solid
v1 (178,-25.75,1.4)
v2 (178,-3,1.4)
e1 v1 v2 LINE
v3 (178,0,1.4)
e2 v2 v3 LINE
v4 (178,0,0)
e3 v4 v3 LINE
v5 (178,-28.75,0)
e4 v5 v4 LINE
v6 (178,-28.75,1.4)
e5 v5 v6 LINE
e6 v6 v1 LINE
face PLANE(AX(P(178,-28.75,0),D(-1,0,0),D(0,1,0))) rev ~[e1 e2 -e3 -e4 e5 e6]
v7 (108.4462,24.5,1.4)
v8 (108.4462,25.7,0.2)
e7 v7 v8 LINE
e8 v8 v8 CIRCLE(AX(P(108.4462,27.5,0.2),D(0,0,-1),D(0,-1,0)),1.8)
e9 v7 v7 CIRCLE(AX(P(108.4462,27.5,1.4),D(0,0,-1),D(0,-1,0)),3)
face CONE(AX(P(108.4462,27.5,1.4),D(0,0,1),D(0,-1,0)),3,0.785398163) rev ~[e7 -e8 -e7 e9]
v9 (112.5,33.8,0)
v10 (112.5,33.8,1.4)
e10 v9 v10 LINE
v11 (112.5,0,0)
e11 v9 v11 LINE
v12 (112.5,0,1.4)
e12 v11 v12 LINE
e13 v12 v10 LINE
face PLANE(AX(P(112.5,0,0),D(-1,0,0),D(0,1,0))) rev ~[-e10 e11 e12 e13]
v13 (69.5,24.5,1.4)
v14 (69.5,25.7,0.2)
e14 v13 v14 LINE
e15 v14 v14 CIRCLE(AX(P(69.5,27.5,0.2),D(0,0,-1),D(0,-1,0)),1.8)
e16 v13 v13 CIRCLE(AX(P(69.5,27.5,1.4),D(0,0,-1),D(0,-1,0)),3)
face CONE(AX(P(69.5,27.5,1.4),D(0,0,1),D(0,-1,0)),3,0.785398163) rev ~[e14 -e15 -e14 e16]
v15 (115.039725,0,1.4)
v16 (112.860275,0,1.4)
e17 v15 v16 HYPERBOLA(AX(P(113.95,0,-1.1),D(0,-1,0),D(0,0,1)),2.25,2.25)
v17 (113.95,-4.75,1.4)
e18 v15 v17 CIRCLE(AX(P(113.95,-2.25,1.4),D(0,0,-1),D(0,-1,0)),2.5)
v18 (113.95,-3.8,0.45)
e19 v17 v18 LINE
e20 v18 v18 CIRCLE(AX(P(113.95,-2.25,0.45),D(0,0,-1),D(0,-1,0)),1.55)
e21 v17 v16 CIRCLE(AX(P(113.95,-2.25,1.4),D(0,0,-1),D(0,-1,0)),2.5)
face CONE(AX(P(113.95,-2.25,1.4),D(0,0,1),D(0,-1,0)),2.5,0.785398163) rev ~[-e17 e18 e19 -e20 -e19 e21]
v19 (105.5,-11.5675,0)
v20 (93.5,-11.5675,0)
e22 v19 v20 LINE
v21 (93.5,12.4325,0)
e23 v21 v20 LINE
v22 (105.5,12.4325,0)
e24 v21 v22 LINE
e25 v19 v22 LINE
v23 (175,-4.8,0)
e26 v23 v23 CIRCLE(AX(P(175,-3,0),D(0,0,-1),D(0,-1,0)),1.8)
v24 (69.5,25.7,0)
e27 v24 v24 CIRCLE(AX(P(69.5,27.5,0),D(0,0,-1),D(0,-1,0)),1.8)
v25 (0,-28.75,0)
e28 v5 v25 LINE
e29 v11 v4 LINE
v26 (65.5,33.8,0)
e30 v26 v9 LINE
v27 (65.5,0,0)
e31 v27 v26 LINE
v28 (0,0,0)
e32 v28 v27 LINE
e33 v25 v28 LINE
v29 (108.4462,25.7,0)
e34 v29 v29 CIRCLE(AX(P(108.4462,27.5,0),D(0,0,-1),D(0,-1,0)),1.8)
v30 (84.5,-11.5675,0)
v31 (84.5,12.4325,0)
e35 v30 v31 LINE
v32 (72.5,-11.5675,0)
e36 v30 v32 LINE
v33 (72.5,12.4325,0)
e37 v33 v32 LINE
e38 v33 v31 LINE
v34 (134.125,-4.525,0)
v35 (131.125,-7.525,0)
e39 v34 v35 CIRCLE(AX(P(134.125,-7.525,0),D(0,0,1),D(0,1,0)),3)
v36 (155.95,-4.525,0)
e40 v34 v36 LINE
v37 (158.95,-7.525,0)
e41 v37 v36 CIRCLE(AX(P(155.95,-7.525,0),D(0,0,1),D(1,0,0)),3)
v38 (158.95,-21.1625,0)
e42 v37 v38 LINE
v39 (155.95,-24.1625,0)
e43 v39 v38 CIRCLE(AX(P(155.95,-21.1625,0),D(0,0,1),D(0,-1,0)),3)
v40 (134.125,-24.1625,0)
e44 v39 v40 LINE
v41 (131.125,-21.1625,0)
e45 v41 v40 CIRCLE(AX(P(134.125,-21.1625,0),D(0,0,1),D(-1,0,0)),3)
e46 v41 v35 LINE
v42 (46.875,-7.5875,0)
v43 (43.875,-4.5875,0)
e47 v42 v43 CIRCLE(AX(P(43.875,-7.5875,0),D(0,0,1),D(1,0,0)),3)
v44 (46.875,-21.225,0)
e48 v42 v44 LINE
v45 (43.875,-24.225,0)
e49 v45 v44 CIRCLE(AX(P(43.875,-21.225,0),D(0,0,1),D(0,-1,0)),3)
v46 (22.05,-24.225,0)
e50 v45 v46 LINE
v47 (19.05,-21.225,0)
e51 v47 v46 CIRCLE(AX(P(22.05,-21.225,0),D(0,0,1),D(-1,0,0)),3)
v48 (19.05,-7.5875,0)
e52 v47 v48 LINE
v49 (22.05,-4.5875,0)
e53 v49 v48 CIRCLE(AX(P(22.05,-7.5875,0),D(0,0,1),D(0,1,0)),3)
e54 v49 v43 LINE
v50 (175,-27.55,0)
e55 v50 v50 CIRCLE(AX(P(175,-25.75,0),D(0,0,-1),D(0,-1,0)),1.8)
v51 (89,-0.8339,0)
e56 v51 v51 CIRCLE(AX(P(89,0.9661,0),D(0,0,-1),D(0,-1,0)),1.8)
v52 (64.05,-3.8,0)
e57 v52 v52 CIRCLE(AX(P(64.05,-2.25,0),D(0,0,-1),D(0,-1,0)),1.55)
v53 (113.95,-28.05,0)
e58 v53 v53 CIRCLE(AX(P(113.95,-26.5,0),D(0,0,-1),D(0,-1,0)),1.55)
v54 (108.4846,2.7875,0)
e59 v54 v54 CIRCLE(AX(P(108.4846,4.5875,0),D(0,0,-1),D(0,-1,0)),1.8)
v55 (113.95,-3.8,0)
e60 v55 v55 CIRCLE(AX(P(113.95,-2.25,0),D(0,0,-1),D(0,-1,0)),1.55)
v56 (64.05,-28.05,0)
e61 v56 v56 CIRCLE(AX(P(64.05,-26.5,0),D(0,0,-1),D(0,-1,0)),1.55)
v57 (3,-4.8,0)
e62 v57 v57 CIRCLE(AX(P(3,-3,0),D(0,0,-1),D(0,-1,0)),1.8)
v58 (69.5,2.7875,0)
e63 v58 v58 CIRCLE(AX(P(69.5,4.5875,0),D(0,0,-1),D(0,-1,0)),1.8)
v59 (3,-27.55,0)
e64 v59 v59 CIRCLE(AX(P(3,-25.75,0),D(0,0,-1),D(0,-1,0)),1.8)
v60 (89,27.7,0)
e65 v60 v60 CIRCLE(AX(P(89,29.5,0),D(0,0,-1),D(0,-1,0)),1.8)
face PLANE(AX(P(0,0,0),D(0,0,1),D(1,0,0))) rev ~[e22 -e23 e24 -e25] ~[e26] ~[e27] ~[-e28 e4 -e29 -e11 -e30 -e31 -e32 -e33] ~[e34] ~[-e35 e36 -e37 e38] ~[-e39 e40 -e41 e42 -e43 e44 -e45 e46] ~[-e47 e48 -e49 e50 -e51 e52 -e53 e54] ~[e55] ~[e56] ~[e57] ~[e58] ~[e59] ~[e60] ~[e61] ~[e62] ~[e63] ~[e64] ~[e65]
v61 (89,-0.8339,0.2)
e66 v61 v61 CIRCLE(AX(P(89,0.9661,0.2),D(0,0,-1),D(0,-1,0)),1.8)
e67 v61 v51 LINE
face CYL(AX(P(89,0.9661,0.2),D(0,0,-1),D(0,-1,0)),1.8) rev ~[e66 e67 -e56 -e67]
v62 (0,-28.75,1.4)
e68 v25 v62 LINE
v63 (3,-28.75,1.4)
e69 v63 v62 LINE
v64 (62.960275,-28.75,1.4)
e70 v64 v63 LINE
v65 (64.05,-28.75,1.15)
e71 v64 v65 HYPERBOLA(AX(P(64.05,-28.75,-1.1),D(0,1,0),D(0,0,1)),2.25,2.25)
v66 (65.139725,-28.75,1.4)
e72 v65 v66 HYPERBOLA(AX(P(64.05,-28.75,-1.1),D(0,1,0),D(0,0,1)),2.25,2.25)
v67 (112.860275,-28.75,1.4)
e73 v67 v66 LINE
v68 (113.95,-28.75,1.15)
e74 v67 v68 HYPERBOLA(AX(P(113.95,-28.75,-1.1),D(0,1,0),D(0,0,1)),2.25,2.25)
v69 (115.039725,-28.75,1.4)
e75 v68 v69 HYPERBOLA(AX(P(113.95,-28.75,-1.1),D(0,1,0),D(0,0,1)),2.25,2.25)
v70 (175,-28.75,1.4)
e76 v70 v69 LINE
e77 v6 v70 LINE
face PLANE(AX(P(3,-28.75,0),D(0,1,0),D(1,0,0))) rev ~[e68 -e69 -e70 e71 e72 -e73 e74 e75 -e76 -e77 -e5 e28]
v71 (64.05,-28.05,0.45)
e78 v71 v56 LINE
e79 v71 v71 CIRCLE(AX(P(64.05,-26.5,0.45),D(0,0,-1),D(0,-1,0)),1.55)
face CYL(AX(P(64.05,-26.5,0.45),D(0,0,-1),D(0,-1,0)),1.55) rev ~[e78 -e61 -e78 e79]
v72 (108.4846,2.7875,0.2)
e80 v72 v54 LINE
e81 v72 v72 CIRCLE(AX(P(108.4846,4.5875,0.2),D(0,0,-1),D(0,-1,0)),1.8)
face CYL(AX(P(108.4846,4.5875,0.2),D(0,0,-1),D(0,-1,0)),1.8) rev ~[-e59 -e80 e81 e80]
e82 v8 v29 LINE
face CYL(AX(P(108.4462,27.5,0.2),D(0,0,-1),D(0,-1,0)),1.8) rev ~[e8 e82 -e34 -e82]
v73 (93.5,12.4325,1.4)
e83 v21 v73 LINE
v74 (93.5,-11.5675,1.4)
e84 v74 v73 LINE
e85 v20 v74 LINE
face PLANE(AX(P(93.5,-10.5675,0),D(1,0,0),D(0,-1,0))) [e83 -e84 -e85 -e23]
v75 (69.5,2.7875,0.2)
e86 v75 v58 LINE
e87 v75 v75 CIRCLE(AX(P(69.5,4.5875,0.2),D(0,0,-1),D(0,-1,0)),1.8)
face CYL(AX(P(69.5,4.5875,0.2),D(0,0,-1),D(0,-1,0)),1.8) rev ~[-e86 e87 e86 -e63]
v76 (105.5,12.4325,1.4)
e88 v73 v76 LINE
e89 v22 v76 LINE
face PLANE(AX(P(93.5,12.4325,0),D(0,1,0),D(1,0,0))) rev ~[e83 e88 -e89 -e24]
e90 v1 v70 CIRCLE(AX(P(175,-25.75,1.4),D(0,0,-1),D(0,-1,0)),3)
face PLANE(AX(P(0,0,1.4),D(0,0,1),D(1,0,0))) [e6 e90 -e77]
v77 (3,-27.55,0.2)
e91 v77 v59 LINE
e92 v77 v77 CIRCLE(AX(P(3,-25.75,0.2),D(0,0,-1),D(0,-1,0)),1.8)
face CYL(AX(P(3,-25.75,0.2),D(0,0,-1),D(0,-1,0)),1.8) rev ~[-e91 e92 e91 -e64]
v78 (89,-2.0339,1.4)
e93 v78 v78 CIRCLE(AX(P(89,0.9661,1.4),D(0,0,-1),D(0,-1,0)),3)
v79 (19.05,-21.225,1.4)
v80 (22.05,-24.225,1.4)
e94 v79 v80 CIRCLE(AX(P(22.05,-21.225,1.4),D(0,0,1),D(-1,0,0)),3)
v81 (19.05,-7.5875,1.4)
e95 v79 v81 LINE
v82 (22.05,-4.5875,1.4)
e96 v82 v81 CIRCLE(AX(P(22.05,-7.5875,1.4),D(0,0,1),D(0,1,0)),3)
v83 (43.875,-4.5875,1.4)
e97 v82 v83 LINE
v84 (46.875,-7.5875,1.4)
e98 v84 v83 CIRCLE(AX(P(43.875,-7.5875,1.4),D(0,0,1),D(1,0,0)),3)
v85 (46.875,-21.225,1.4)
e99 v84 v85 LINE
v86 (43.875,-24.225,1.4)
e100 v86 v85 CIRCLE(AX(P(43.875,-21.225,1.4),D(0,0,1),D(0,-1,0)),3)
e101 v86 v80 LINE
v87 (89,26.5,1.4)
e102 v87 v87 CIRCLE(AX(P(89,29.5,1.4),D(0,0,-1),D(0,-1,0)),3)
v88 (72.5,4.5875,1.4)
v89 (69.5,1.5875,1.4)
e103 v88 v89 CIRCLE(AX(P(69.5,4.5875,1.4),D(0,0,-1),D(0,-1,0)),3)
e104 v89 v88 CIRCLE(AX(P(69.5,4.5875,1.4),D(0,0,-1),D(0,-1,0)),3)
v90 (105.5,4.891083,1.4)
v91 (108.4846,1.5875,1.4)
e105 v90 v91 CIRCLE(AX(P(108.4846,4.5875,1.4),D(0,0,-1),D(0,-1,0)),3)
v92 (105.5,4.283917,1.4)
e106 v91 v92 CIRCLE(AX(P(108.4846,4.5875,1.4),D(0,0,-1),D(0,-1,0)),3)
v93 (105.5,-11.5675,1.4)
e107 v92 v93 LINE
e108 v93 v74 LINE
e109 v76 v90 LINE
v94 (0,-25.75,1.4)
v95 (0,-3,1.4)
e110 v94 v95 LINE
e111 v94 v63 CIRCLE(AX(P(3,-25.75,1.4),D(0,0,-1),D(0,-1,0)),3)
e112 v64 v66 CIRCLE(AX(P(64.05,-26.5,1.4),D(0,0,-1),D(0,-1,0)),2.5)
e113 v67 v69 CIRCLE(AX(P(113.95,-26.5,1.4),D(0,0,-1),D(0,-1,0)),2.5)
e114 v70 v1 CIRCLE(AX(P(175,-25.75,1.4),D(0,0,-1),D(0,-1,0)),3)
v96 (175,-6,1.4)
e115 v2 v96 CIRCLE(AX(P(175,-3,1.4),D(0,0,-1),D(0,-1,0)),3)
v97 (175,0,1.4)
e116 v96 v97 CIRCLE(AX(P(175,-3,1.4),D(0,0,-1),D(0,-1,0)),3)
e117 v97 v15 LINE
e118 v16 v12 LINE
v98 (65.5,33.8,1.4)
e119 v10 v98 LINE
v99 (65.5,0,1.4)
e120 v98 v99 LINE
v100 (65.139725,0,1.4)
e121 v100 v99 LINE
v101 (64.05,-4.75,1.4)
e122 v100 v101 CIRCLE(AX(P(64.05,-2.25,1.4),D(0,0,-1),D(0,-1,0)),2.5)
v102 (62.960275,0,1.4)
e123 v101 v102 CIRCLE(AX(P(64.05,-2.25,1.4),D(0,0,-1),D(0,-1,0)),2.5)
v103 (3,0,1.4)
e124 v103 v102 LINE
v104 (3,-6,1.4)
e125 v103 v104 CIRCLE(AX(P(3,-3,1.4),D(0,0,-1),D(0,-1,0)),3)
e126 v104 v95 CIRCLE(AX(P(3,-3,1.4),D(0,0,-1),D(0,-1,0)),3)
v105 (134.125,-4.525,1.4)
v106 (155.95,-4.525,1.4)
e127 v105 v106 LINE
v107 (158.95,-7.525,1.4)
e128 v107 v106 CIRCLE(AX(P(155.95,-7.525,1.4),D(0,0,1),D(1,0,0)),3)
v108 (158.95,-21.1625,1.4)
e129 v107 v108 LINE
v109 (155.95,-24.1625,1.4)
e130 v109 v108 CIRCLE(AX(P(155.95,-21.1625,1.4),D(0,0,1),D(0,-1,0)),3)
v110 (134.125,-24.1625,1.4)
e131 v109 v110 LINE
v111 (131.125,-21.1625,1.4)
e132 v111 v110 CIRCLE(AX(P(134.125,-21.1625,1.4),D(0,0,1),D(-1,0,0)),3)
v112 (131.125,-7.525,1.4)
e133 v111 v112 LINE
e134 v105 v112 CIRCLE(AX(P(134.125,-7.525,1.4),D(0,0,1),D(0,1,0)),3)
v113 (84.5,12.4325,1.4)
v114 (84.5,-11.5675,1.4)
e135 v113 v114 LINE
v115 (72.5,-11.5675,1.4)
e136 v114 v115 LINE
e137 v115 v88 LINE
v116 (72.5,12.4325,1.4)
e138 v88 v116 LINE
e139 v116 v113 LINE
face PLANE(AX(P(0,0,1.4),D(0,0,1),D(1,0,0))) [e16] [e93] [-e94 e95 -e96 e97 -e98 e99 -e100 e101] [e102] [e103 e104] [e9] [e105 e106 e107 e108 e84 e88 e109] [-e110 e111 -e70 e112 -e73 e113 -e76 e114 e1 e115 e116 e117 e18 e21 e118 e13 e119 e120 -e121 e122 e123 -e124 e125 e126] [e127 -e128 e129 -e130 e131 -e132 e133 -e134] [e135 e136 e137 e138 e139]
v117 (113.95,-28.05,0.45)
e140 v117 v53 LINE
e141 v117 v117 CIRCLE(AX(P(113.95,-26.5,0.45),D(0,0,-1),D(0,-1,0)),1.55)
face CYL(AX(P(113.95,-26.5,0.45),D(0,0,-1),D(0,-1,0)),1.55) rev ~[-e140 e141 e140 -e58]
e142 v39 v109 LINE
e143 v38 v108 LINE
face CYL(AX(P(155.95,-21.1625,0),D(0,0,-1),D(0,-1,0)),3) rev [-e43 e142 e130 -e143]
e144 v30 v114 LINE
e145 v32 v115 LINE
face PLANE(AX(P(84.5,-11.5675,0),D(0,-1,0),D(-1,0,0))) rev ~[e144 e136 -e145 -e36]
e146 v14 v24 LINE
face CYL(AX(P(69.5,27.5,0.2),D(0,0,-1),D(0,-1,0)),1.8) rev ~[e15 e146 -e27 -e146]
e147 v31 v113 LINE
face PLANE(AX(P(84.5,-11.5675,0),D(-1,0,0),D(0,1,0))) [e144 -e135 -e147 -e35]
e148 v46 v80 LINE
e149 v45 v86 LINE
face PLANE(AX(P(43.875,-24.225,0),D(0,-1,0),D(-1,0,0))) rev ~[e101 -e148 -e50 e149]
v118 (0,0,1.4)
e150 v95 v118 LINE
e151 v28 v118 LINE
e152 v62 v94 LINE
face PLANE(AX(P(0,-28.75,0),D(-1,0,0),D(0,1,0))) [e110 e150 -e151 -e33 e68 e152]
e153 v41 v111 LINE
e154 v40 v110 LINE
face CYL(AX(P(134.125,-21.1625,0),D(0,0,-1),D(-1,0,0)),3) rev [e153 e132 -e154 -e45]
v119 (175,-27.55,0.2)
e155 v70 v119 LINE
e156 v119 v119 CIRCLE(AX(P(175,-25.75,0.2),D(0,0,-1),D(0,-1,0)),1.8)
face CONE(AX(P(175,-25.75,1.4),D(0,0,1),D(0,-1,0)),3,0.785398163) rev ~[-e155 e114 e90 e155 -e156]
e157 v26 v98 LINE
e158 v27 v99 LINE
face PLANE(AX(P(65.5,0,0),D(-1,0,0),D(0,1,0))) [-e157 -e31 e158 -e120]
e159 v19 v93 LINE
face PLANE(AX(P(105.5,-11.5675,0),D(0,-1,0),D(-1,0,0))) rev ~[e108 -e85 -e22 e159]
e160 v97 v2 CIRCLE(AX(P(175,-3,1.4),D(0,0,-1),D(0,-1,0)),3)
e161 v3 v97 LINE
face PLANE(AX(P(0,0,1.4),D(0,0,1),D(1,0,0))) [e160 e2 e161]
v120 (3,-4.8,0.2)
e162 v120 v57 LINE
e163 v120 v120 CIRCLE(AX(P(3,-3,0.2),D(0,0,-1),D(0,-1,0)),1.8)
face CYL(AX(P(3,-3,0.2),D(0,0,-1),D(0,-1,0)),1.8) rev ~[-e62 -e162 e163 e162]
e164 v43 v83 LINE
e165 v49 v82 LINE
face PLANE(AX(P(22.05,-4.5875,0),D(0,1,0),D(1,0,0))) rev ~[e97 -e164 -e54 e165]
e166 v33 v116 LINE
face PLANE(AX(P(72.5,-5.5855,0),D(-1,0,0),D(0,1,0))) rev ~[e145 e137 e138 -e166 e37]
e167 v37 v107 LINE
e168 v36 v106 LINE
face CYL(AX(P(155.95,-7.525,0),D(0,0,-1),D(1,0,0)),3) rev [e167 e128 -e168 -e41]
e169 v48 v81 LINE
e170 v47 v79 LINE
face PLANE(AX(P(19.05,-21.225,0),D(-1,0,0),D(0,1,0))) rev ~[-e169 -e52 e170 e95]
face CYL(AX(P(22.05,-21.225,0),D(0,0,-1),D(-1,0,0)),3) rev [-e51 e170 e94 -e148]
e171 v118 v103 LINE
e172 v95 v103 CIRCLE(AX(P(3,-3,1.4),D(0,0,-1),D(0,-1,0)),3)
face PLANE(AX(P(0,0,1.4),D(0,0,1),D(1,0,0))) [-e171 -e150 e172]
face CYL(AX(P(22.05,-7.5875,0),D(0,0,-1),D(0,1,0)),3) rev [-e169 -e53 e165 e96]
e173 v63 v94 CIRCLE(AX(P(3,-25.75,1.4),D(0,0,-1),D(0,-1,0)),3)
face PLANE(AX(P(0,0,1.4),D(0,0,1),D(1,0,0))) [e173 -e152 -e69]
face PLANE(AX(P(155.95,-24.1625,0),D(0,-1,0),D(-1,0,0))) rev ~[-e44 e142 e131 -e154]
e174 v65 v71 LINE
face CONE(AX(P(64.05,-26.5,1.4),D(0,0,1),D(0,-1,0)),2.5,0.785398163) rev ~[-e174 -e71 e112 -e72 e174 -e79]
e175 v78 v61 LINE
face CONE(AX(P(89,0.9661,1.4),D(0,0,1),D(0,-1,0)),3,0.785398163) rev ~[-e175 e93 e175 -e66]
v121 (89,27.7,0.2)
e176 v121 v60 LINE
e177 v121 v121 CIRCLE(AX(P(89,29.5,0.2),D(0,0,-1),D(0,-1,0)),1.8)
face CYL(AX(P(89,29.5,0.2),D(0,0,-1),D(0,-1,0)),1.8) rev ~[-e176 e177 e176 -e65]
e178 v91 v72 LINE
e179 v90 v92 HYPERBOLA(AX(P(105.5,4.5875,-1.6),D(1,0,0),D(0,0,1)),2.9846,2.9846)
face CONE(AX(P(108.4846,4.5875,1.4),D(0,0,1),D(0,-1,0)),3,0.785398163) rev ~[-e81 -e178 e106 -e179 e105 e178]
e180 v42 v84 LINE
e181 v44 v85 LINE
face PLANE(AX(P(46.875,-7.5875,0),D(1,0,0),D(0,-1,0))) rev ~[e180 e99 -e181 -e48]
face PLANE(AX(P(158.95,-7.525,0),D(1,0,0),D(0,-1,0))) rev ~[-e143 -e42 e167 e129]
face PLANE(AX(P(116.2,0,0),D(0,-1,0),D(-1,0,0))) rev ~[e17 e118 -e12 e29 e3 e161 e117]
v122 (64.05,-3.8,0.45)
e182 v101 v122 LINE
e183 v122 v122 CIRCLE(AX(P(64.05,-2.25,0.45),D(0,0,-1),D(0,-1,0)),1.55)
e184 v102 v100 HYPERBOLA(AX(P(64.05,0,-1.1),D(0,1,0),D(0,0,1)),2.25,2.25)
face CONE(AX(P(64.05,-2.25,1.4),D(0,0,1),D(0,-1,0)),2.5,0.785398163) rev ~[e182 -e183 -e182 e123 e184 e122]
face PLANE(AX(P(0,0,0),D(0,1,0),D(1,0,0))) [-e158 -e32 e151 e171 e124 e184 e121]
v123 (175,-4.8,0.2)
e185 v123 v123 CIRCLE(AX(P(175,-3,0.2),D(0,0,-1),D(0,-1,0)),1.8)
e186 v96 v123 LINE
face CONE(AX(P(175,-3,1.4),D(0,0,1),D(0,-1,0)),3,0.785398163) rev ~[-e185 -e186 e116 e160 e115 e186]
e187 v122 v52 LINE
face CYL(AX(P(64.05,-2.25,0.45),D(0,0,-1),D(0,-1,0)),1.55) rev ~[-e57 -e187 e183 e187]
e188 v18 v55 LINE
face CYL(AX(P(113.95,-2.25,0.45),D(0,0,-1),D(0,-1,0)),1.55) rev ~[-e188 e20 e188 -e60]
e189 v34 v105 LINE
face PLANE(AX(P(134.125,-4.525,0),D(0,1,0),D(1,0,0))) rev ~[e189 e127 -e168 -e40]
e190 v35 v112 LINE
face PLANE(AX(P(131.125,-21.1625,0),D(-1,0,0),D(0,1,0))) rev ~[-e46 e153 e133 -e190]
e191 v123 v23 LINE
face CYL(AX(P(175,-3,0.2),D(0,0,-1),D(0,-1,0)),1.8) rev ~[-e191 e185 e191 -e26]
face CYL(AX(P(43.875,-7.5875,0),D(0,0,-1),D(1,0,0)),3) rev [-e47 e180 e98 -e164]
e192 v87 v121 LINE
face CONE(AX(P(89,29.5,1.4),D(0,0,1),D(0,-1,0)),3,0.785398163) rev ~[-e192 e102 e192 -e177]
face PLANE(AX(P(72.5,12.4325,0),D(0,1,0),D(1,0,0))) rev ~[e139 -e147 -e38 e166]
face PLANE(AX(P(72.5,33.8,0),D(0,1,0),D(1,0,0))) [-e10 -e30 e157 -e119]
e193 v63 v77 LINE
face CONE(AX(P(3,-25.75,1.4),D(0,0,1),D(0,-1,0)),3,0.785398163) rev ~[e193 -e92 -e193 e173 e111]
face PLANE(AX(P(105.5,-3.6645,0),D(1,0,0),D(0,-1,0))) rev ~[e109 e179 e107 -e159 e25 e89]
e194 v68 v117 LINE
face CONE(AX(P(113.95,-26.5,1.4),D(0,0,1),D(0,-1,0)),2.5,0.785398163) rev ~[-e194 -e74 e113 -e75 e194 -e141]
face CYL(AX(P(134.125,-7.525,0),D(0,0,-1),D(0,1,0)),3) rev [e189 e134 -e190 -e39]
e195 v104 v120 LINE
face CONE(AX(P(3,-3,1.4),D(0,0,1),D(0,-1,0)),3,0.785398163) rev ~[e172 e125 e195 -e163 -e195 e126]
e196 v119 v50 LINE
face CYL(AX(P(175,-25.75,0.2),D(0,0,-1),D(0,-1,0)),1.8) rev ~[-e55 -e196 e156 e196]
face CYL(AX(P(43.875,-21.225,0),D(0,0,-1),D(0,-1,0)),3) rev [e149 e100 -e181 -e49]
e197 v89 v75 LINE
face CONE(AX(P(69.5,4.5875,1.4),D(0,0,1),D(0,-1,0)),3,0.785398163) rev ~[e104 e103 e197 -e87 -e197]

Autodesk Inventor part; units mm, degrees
ref_plane "YZ Plane" through (0, 0, 0) normal (1, 0, 0) x (0, 1, 0)
ref_plane "XZ Plane" through (0, 0, 0) normal (0, 1, 0) x (-1, 0, 0)
ref_plane "XY Plane" through (0, 0, 0) normal (0, 0, 1) x (1, 0, 0)
ref_plane "Work Plane1" through (0, 0, 0) normal (0, 0, 1) x (1, 0, 0)
ref_plane "Work Plane2" through (0, 0, 0) normal (0, 0, 1) x (1, 0, 0)
sketch "Sketch3" plane through (0, 0, 0) normal (0, 0, 1) x (1, 0, 0)
  circle A0 centre (3, -25.75) radius 2.3 projected
  circle A1 centre (3, -3) radius 2.3 projected
  circle A2 centre (3, -74.8889) radius 2.3 projected
  line L0 (0, 0) -> (6, 0) projected
  line L1 (0, -77.8889) -> (0, 0) projected
  line L2 (0, -77.8889) -> (6, -77.8889) projected
  line L3 (6, -71.8889) -> (6, -77.8889) projected
  line L4 (6, -71.8889) -> (1.6, -71.8889) projected
  line L5 (1.6, -71.8889) -> (1.6, -56.7889) projected
  line L6 (1.6, -56.7889) -> (3, -56.7889) projected
  line L7 (3, -28.75) -> (3, -56.7889) projected
  line L8 (3, -28.75) -> (6, -28.75) projected
  line L9 (6, -28.75) -> (6, -22.75) projected
  line L10 (6, -22.75) -> (3, -22.75) projected
  line L11 (3, -6) -> (3, -22.75) projected
  line L12 (3, -6) -> (6, -6) projected
  line L13 (6, -6) -> (6, 0) projected
  circle A3 centre (175, -3) radius 2.3 projected
  circle A4 centre (175, -25.75) radius 2.3 projected
  line L14 (175, -28.75) -> (175, -71.8889) projected
  line L15 (175, -6) -> (175, -22.75) projected
  line L16 (172, -71.8889) -> (172, -77.8889) projected
  line L17 (178, -77.8889) -> (172, -77.8889) projected
  line L18 (178, -77.8889) -> (178, 0) projected
  line L19 (178, 0) -> (172, 0) projected
  line L20 (172, 0) -> (172, -6) projected
  line L21 (172, -6) -> (175, -6) projected
  line L22 (175, -22.75) -> (172, -22.75) projected
  line L23 (172, -22.75) -> (172, -28.75) projected
  line L24 (172, -28.75) -> (175, -28.75) projected
  circle A5 centre (175, -74.8889) radius 2.3 projected
  circle A6 centre (89, 0.9661) radius 2.3 projected
  circle A7 centre (89, 29.5) radius 2.3 projected
  circle A8 centre (89, 15.55) radius 3.3 projected
  circle A9 centre (89, -14.375) radius 3.3 projected
  circle A10 centre (89, 41.2) radius 3.3 projected
  line L25 (93.5, -27.75) -> (84.5, -27.75) projected
  line L26 (93.5, 55) -> (93.5, -27.75) projected
  line L27 (84.5, 55) -> (93.5, 55) projected
  line L28 (84.5, -27.75) -> (84.5, 55) projected
  line L29 (105.5, -27.75) -> (111.5, -27.75) projected
  line L30 (111.5, -24.9105) -> (111.5, -27.75) projected
  arc A11 (105.5, -24.9105) -> (111.5, -24.9105) centre (108.5, -23.95) ccw projected
  line L31 (105.5, -27.75) -> (105.5, -24.9105) projected
  arc A12 (111.5, -22.9895) -> (105.5, -22.9895) centre (108.5, -23.95) ccw projected
  line L32 (111.5, -5.5855) -> (111.5, -22.9895)
  arc A13 (105.5, -5.5855) -> (111.5, -5.5855) centre (108.5, -4.625) ccw projected
  line L33 (105.5, -22.9895) -> (105.5, -5.5855) projected
  circle A14 centre (108.4846, 4.5875) radius 2.3 projected
  arc A15 (105.5, 12.8395) -> (111.5, 12.8395) centre (108.5, 13.8) ccw projected
  line L34 (105.5, -3.6645) -> (105.5, 12.8395) projected
  arc A16 (111.5, -3.6645) -> (105.5, -3.6645) centre (108.5, -4.625) ccw projected
  line L35 (111.5, 12.8395) -> (111.5, -3.6645) projected
  circle A17 centre (108.4462, 27.5) radius 2.3 projected
  arc A18 (111.5, 14.7605) -> (105.5, 14.7605) centre (108.5, 13.8) ccw projected
  line L36 (111.5, 40.6331) -> (111.5, 14.7605) projected
  arc A19 (105.5, 40.1338) -> (111.5, 40.6331) centre (108.4231, 41.3077) ccw projected
  line L37 (105.5, 14.7605) -> (105.5, 40.1338) projected
  arc A20 (111.5, 41.9823) -> (105.5, 42.4816) centre (108.4231, 41.3077) ccw projected
  line L38 (111.5, 55) -> (111.5, 41.9823) projected
  line L39 (105.5, 55) -> (111.5, 55) projected
  line L40 (105.5, 42.4816) -> (105.5, 55) projected
  line L41 (111.5, 41.9823) -> (111.5, 55) projected
  line L42 (111.5, 41.9823) -> (112.5, 41.9823) projected
  line L43 (112.5, 41.9823) -> (112.5, 55) projected
  line L44 (111.5, 55) -> (112.5, 55) projected
  line L45 (111.5, 14.7605) -> (111.5, 40.6331) projected
  line L46 (111.5, 14.7605) -> (112.5, 14.7605) projected
  line L47 (112.5, 14.7605) -> (112.5, 40.6331) projected
  line L48 (111.5, 40.6331) -> (112.5, 40.6331) projected
  line L49 (111.5, 0) -> (111.5, 12.8395) projected
  line L50 (112.5, 0) -> (112.5, 12.8395) projected
  line L51 (111.5, 12.8395) -> (112.5, 12.8395) projected
  line L52 (66.5, 14.7605) -> (66.5, 40.6331) projected
  line L53 (66.5, 40.6331) -> (65.5, 40.6331) projected
  line L54 (65.5, 14.7605) -> (65.5, 40.6331) projected
  line L55 (66.5, 14.7605) -> (65.5, 14.7605) projected
  line L56 (66.5, 41.9823) -> (66.5, 55) projected
  line L57 (66.5, 55) -> (65.5, 55) projected
  line L58 (65.5, 41.9823) -> (65.5, 55) projected
  line L59 (66.5, 41.9823) -> (65.5, 41.9823) projected
  line L60 (66.5, 0) -> (66.5, 12.8395) projected
  line L61 (66.5, 12.8395) -> (65.5, 12.8395) projected
  line L62 (65.5, 0) -> (65.5, 12.8395) projected
  arc A21 (66.5, -5.5855) -> (72.5, -5.5855) centre (69.5, -4.625) ccw projected
  line L63 (66.5, -22.9895) -> (66.5, -5.5855) projected
  arc A22 (72.5, -22.9895) -> (66.5, -22.9895) centre (69.5, -23.95) ccw projected
  line L64 (72.5, -5.5855) -> (72.5, -22.9895) projected
  line L65 (66.5, -27.75) -> (72.5, -27.75) projected
  line L66 (72.5, -24.9105) -> (72.5, -27.75) projected
  arc A23 (66.5, -24.9105) -> (72.5, -24.9105) centre (69.5, -23.95) ccw projected
  line L67 (66.5, -27.75) -> (66.5, -24.9105) projected
  circle A24 centre (69.5, 4.5875) radius 2.3 projected
  arc A25 (72.5, -3.6645) -> (66.5, -3.6645) centre (69.5, -4.625) ccw projected
  line L68 (72.5, 12.8395) -> (72.5, -3.6645) projected
  arc A26 (66.5, 12.8395) -> (72.5, 12.8395) centre (69.5, 13.8) ccw projected
  line L69 (66.5, -3.6645) -> (66.5, 12.8395) projected
  circle A27 centre (69.5, 27.5) radius 2.3 projected
  arc A28 (66.5, 40.6331) -> (72.5, 40.1338) centre (69.5769, 41.3077) ccw projected
  line L70 (66.5, 14.7605) -> (66.5, 40.6331) projected
  arc A29 (72.5, 14.7605) -> (66.5, 14.7605) centre (69.5, 13.8) ccw projected
  line L71 (72.5, 40.1338) -> (72.5, 14.7605) projected
  arc A30 (72.5, 42.4816) -> (66.5, 41.9823) centre (69.5769, 41.3077) ccw projected
  line L72 (72.5, 55) -> (72.5, 42.4816) projected
  line L73 (66.5, 55) -> (72.5, 55) projected
  line L74 (66.5, 41.9823) -> (66.5, 55) projected
  line L75 (56.8, -28.75) -> (56.8, 0) projected
  line L76 (61.8, -28.75) -> (56.8, -28.75) projected
  line L77 (61.8, 0) -> (56.8, 0) projected
  line L78 (61.8, -28.75) -> (66.3, -28.75) projected
  line L79 (66.3, 0) -> (66.3, -28.75) projected
  line L80 (61.8, 0) -> (66.3, 0) projected
  line L81 (116.2, 0) -> (111.7, 0) projected
  line L82 (111.7, 0) -> (111.7, -28.75)
  line L83 (116.2, -28.75) -> (111.7, -28.75) projected
  line L84 (121.2, -28.75) -> (121.2, 0)
  line L85 (116.2, 0) -> (121.2, 0) projected
  line L86 (116.2, -28.75) -> (121.2, -28.75) projected
  line L87 (0, 0) -> (178, 0)
  line L88 (178, 0) -> (178, -28.75)
  line L89 (178, -28.75) -> (0, -28.75)
  line L90 (0, -28.75) -> (0, 0)
  line L91 (112.5, 0) -> (65.5, 0)
  line L92 (65.5, 0) -> (65.5, 55)
  line L93 (65.5, 55) -> (112.5, 55)
  line L94 (112.5, 55) -> (112.5, 0)
  line L95 (104.5, 11.4325) -> (104.5, -10.5675) projected
  line L96 (94.5, -10.5675) -> (94.5, 11.4325) projected
  line L97 (104.5, 11.4325) -> (73.5, 11.4325)
  line L98 (73.5, 11.4325) -> (73.5, -10.5675)
  line L99 (73.5, -10.5675) -> (104.5, -10.5675)
  line L100 (104.5, -10.5675) -> (104.5, 11.4325)
  line L101 (72.5, 12.4325) -> (105.5, 12.4325)
  line L102 (105.5, 12.4325) -> (105.5, -11.5675)
  line L103 (105.5, -11.5675) -> (72.5, -11.5675)
  line L104 (72.5, -11.5675) -> (72.5, 12.4325)
  line L105 (175, -71.8889) -> (172, -71.8889) projected
  arc A31 (22.05, -4.5875) -> (19.05, -7.5875) centre (22.05, -7.5875) ccw projected
  line L106 (22.05, -4.5875) -> (43.875, -4.5875) projected
  line L107 (19.05, -21.225) -> (19.05, -7.5875) projected
  arc A32 (19.05, -21.225) -> (22.05, -24.225) centre (22.05, -21.225) ccw projected
  line L108 (43.875, -24.225) -> (22.05, -24.225) projected
  arc A33 (43.875, -24.225) -> (46.875, -21.225) centre (43.875, -21.225) ccw projected
  line L109 (46.875, -7.5875) -> (46.875, -21.225) projected
  arc A34 (46.875, -7.5875) -> (43.875, -4.5875) centre (43.875, -7.5875) ccw projected
  line L110 (134.125, -4.525) -> (155.95, -4.525) projected
  arc A35 (158.95, -7.525) -> (155.95, -4.525) centre (155.95, -7.525) ccw projected
  line L111 (158.95, -7.525) -> (158.95, -21.1625) projected
  arc A36 (155.95, -24.1625) -> (158.95, -21.1625) centre (155.95, -21.1625) ccw projected
  line L112 (155.95, -24.1625) -> (134.125, -24.1625) projected
  arc A37 (131.125, -21.1625) -> (134.125, -24.1625) centre (134.125, -21.1625) ccw projected
  line L113 (131.125, -21.1625) -> (131.125, -7.525) projected
  arc A38 (134.125, -4.525) -> (131.125, -7.525) centre (134.125, -7.525) ccw projected
  line L114 (65.5, 33.8) -> (112.5, 33.8)
  line L115 (66.5, 0) -> (65.5, 0) projected
  line L116 (111.5, 0) -> (112.5, 0) projected
  circle A39 centre (64.05, -2.25) radius 1.5 projected
  circle A40 centre (64.05, -26.5) radius 1.5 projected
  circle A41 centre (113.95, -26.5) radius 1.75 projected
  circle A42 centre (113.95, -2.25) radius 1.75 projected
  point P0 (112.5, 0)
  point P1 (65.5, 0)
  point P2 (0, -28.75)
  point P3 (172, 0)
  point P4 (93.5, 12.4325)
  point P5 (105.5, -5.5855)
  point P6 (93.5, -11.5675)
  point P7 (84.5, -11.5675)
  point P8 (72.5, -5.5855)
  point P9 (84.5, 12.4325)
  point P10 (111.5, 33.8)
  dimension "d29" = 1
  dimension "d30" = 1
  dimension "d31" = 1
  dimension "d38" = 4.6
  dimension "d39" = 4.3
extrude "Extrusion2" add sketch "Sketch3" along normal blind 1.4 contours A0 | A1 | L0 L13 L12 L11 L10 L9 L8 L89 L1 | L87 L75 L89 L9 L10 L11 L12 L13 | L77 L80 L79 L78 L76 L75 | L62 L61 L60 L87 L80 | L79 L87 L69 A25 L104 A21 L63 A22 L64 L103 L28 L25 L26 L33 A12 L32 A13 L102 A16 L35 L82 L89 | L92 L55 A29 L71 L114 L28 L101 L68 A26 L61 | L82 L81 L85 L84 L86 L83 | A26 L68 L87 L60 | L54 L114 L52 L55 | L87 L68 A25 L69 | L87 L35 L51 L50 L81 | L52 L114 L71 A29 | L87 L34 A15 L35 | L35 A16 L34 L87 | L84 L87 L20 L21 L15 L22 L23 L89 | L51 A15 L34 L101 L26 L114 L37 A18 L46 L94 | L23 L22 L15 L21 L20 L19 L18 L89 L24 | L101 A8 L26 L97 L28 | L28 L114 L26 L101 A8 | L64 A22 L63 A21 | L87 A6 L26 L99 L28 | L28 L97 L26 L87 A6 | L46 L36 L114 L47 | L101 A8 | A8 L101 | L99 L26 L103 A9 L28 | L87 A6 | A6 L87 | A18 L37 L114 L36 | A13 L32 A12 L33 | L103 A9 L26 L25 L28 | L103 A9 | A9 L103 | A3 | A4 | A7 | L31 A11 L30 L29 | A14 | A17 | L67 A23 L66 L65 | A24 | A27 | A39 | A40 | A41 | A42
sketch "Sketch4" plane through (0, 0, 1.4) normal (0, 0, 1) x (1, 0, 0)
  circle A0 centre (69.5, 27.5) radius 2.3 projected
  circle A1 centre (69.5, 4.5875) radius 2.3 projected
  circle A2 centre (89, 0.9661) radius 2 projected
  circle A3 centre (89, 29.5) radius 2.3 projected
  circle A4 centre (108.4462, 27.5) radius 2.3 projected
  circle A5 centre (108.4846, 4.5875) radius 2.3 projected
  circle A6 centre (3, -25.75) radius 2.3 projected
  circle A7 centre (3, -3) radius 2.3 projected
  circle A8 centre (175, -25.75) radius 2.3 projected
  circle A9 centre (175, -3) radius 2.3 projected
  point P0 (0, 0)
hole "Hole2" at (3, -3, 1.4) at (3, -25.75, 1.4) at (175, -3, 1.4) at (175, -25.75, 1.4) at (108.4846, 4.5875, 1.4) at (89, 0.9661, 1.4) at (69.5, 4.5875, 1.4) at (69.5, 27.5, 1.4) at (89, 29.5, 1.4) at (108.4462, 27.5, 1.4) direction (0, 0, -1) diameter 3.6 end through all countersink diameter 6 countersink angle 90 clearance for "Countersunk Flat Head Screw ISO 2009/7046" size "M3" standard "ISO"
sketch "Sketch5" plane through (0, 0, 1.4) normal (0, 0, 1) x (1, 0, 0)
  circle A0 centre (64.05, -26.5) radius 1.5 projected
  circle A1 centre (113.95, -26.5) radius 1.5 projected
  circle A2 centre (64.05, -2.25) radius 1.5 projected
  circle A3 centre (113.95, -2.25) radius 1.5 projected
  point P0 (0, 0)
hole "Hole3" at (64.05, -2.25, 1.4) at (64.05, -26.5, 1.4) at (113.95, -26.5, 1.4) at (113.95, -2.25, 1.4) direction (0, 0, -1) diameter 3.1 end through all countersink diameter 5 countersink angle 90 clearance for "Countersunk Flat Head Screw ISO 2009/7046" size "M2.5" standard "ISO"
equation "\"d30\" = d29"
properties part number "ceil" material "ABS Plastic"
